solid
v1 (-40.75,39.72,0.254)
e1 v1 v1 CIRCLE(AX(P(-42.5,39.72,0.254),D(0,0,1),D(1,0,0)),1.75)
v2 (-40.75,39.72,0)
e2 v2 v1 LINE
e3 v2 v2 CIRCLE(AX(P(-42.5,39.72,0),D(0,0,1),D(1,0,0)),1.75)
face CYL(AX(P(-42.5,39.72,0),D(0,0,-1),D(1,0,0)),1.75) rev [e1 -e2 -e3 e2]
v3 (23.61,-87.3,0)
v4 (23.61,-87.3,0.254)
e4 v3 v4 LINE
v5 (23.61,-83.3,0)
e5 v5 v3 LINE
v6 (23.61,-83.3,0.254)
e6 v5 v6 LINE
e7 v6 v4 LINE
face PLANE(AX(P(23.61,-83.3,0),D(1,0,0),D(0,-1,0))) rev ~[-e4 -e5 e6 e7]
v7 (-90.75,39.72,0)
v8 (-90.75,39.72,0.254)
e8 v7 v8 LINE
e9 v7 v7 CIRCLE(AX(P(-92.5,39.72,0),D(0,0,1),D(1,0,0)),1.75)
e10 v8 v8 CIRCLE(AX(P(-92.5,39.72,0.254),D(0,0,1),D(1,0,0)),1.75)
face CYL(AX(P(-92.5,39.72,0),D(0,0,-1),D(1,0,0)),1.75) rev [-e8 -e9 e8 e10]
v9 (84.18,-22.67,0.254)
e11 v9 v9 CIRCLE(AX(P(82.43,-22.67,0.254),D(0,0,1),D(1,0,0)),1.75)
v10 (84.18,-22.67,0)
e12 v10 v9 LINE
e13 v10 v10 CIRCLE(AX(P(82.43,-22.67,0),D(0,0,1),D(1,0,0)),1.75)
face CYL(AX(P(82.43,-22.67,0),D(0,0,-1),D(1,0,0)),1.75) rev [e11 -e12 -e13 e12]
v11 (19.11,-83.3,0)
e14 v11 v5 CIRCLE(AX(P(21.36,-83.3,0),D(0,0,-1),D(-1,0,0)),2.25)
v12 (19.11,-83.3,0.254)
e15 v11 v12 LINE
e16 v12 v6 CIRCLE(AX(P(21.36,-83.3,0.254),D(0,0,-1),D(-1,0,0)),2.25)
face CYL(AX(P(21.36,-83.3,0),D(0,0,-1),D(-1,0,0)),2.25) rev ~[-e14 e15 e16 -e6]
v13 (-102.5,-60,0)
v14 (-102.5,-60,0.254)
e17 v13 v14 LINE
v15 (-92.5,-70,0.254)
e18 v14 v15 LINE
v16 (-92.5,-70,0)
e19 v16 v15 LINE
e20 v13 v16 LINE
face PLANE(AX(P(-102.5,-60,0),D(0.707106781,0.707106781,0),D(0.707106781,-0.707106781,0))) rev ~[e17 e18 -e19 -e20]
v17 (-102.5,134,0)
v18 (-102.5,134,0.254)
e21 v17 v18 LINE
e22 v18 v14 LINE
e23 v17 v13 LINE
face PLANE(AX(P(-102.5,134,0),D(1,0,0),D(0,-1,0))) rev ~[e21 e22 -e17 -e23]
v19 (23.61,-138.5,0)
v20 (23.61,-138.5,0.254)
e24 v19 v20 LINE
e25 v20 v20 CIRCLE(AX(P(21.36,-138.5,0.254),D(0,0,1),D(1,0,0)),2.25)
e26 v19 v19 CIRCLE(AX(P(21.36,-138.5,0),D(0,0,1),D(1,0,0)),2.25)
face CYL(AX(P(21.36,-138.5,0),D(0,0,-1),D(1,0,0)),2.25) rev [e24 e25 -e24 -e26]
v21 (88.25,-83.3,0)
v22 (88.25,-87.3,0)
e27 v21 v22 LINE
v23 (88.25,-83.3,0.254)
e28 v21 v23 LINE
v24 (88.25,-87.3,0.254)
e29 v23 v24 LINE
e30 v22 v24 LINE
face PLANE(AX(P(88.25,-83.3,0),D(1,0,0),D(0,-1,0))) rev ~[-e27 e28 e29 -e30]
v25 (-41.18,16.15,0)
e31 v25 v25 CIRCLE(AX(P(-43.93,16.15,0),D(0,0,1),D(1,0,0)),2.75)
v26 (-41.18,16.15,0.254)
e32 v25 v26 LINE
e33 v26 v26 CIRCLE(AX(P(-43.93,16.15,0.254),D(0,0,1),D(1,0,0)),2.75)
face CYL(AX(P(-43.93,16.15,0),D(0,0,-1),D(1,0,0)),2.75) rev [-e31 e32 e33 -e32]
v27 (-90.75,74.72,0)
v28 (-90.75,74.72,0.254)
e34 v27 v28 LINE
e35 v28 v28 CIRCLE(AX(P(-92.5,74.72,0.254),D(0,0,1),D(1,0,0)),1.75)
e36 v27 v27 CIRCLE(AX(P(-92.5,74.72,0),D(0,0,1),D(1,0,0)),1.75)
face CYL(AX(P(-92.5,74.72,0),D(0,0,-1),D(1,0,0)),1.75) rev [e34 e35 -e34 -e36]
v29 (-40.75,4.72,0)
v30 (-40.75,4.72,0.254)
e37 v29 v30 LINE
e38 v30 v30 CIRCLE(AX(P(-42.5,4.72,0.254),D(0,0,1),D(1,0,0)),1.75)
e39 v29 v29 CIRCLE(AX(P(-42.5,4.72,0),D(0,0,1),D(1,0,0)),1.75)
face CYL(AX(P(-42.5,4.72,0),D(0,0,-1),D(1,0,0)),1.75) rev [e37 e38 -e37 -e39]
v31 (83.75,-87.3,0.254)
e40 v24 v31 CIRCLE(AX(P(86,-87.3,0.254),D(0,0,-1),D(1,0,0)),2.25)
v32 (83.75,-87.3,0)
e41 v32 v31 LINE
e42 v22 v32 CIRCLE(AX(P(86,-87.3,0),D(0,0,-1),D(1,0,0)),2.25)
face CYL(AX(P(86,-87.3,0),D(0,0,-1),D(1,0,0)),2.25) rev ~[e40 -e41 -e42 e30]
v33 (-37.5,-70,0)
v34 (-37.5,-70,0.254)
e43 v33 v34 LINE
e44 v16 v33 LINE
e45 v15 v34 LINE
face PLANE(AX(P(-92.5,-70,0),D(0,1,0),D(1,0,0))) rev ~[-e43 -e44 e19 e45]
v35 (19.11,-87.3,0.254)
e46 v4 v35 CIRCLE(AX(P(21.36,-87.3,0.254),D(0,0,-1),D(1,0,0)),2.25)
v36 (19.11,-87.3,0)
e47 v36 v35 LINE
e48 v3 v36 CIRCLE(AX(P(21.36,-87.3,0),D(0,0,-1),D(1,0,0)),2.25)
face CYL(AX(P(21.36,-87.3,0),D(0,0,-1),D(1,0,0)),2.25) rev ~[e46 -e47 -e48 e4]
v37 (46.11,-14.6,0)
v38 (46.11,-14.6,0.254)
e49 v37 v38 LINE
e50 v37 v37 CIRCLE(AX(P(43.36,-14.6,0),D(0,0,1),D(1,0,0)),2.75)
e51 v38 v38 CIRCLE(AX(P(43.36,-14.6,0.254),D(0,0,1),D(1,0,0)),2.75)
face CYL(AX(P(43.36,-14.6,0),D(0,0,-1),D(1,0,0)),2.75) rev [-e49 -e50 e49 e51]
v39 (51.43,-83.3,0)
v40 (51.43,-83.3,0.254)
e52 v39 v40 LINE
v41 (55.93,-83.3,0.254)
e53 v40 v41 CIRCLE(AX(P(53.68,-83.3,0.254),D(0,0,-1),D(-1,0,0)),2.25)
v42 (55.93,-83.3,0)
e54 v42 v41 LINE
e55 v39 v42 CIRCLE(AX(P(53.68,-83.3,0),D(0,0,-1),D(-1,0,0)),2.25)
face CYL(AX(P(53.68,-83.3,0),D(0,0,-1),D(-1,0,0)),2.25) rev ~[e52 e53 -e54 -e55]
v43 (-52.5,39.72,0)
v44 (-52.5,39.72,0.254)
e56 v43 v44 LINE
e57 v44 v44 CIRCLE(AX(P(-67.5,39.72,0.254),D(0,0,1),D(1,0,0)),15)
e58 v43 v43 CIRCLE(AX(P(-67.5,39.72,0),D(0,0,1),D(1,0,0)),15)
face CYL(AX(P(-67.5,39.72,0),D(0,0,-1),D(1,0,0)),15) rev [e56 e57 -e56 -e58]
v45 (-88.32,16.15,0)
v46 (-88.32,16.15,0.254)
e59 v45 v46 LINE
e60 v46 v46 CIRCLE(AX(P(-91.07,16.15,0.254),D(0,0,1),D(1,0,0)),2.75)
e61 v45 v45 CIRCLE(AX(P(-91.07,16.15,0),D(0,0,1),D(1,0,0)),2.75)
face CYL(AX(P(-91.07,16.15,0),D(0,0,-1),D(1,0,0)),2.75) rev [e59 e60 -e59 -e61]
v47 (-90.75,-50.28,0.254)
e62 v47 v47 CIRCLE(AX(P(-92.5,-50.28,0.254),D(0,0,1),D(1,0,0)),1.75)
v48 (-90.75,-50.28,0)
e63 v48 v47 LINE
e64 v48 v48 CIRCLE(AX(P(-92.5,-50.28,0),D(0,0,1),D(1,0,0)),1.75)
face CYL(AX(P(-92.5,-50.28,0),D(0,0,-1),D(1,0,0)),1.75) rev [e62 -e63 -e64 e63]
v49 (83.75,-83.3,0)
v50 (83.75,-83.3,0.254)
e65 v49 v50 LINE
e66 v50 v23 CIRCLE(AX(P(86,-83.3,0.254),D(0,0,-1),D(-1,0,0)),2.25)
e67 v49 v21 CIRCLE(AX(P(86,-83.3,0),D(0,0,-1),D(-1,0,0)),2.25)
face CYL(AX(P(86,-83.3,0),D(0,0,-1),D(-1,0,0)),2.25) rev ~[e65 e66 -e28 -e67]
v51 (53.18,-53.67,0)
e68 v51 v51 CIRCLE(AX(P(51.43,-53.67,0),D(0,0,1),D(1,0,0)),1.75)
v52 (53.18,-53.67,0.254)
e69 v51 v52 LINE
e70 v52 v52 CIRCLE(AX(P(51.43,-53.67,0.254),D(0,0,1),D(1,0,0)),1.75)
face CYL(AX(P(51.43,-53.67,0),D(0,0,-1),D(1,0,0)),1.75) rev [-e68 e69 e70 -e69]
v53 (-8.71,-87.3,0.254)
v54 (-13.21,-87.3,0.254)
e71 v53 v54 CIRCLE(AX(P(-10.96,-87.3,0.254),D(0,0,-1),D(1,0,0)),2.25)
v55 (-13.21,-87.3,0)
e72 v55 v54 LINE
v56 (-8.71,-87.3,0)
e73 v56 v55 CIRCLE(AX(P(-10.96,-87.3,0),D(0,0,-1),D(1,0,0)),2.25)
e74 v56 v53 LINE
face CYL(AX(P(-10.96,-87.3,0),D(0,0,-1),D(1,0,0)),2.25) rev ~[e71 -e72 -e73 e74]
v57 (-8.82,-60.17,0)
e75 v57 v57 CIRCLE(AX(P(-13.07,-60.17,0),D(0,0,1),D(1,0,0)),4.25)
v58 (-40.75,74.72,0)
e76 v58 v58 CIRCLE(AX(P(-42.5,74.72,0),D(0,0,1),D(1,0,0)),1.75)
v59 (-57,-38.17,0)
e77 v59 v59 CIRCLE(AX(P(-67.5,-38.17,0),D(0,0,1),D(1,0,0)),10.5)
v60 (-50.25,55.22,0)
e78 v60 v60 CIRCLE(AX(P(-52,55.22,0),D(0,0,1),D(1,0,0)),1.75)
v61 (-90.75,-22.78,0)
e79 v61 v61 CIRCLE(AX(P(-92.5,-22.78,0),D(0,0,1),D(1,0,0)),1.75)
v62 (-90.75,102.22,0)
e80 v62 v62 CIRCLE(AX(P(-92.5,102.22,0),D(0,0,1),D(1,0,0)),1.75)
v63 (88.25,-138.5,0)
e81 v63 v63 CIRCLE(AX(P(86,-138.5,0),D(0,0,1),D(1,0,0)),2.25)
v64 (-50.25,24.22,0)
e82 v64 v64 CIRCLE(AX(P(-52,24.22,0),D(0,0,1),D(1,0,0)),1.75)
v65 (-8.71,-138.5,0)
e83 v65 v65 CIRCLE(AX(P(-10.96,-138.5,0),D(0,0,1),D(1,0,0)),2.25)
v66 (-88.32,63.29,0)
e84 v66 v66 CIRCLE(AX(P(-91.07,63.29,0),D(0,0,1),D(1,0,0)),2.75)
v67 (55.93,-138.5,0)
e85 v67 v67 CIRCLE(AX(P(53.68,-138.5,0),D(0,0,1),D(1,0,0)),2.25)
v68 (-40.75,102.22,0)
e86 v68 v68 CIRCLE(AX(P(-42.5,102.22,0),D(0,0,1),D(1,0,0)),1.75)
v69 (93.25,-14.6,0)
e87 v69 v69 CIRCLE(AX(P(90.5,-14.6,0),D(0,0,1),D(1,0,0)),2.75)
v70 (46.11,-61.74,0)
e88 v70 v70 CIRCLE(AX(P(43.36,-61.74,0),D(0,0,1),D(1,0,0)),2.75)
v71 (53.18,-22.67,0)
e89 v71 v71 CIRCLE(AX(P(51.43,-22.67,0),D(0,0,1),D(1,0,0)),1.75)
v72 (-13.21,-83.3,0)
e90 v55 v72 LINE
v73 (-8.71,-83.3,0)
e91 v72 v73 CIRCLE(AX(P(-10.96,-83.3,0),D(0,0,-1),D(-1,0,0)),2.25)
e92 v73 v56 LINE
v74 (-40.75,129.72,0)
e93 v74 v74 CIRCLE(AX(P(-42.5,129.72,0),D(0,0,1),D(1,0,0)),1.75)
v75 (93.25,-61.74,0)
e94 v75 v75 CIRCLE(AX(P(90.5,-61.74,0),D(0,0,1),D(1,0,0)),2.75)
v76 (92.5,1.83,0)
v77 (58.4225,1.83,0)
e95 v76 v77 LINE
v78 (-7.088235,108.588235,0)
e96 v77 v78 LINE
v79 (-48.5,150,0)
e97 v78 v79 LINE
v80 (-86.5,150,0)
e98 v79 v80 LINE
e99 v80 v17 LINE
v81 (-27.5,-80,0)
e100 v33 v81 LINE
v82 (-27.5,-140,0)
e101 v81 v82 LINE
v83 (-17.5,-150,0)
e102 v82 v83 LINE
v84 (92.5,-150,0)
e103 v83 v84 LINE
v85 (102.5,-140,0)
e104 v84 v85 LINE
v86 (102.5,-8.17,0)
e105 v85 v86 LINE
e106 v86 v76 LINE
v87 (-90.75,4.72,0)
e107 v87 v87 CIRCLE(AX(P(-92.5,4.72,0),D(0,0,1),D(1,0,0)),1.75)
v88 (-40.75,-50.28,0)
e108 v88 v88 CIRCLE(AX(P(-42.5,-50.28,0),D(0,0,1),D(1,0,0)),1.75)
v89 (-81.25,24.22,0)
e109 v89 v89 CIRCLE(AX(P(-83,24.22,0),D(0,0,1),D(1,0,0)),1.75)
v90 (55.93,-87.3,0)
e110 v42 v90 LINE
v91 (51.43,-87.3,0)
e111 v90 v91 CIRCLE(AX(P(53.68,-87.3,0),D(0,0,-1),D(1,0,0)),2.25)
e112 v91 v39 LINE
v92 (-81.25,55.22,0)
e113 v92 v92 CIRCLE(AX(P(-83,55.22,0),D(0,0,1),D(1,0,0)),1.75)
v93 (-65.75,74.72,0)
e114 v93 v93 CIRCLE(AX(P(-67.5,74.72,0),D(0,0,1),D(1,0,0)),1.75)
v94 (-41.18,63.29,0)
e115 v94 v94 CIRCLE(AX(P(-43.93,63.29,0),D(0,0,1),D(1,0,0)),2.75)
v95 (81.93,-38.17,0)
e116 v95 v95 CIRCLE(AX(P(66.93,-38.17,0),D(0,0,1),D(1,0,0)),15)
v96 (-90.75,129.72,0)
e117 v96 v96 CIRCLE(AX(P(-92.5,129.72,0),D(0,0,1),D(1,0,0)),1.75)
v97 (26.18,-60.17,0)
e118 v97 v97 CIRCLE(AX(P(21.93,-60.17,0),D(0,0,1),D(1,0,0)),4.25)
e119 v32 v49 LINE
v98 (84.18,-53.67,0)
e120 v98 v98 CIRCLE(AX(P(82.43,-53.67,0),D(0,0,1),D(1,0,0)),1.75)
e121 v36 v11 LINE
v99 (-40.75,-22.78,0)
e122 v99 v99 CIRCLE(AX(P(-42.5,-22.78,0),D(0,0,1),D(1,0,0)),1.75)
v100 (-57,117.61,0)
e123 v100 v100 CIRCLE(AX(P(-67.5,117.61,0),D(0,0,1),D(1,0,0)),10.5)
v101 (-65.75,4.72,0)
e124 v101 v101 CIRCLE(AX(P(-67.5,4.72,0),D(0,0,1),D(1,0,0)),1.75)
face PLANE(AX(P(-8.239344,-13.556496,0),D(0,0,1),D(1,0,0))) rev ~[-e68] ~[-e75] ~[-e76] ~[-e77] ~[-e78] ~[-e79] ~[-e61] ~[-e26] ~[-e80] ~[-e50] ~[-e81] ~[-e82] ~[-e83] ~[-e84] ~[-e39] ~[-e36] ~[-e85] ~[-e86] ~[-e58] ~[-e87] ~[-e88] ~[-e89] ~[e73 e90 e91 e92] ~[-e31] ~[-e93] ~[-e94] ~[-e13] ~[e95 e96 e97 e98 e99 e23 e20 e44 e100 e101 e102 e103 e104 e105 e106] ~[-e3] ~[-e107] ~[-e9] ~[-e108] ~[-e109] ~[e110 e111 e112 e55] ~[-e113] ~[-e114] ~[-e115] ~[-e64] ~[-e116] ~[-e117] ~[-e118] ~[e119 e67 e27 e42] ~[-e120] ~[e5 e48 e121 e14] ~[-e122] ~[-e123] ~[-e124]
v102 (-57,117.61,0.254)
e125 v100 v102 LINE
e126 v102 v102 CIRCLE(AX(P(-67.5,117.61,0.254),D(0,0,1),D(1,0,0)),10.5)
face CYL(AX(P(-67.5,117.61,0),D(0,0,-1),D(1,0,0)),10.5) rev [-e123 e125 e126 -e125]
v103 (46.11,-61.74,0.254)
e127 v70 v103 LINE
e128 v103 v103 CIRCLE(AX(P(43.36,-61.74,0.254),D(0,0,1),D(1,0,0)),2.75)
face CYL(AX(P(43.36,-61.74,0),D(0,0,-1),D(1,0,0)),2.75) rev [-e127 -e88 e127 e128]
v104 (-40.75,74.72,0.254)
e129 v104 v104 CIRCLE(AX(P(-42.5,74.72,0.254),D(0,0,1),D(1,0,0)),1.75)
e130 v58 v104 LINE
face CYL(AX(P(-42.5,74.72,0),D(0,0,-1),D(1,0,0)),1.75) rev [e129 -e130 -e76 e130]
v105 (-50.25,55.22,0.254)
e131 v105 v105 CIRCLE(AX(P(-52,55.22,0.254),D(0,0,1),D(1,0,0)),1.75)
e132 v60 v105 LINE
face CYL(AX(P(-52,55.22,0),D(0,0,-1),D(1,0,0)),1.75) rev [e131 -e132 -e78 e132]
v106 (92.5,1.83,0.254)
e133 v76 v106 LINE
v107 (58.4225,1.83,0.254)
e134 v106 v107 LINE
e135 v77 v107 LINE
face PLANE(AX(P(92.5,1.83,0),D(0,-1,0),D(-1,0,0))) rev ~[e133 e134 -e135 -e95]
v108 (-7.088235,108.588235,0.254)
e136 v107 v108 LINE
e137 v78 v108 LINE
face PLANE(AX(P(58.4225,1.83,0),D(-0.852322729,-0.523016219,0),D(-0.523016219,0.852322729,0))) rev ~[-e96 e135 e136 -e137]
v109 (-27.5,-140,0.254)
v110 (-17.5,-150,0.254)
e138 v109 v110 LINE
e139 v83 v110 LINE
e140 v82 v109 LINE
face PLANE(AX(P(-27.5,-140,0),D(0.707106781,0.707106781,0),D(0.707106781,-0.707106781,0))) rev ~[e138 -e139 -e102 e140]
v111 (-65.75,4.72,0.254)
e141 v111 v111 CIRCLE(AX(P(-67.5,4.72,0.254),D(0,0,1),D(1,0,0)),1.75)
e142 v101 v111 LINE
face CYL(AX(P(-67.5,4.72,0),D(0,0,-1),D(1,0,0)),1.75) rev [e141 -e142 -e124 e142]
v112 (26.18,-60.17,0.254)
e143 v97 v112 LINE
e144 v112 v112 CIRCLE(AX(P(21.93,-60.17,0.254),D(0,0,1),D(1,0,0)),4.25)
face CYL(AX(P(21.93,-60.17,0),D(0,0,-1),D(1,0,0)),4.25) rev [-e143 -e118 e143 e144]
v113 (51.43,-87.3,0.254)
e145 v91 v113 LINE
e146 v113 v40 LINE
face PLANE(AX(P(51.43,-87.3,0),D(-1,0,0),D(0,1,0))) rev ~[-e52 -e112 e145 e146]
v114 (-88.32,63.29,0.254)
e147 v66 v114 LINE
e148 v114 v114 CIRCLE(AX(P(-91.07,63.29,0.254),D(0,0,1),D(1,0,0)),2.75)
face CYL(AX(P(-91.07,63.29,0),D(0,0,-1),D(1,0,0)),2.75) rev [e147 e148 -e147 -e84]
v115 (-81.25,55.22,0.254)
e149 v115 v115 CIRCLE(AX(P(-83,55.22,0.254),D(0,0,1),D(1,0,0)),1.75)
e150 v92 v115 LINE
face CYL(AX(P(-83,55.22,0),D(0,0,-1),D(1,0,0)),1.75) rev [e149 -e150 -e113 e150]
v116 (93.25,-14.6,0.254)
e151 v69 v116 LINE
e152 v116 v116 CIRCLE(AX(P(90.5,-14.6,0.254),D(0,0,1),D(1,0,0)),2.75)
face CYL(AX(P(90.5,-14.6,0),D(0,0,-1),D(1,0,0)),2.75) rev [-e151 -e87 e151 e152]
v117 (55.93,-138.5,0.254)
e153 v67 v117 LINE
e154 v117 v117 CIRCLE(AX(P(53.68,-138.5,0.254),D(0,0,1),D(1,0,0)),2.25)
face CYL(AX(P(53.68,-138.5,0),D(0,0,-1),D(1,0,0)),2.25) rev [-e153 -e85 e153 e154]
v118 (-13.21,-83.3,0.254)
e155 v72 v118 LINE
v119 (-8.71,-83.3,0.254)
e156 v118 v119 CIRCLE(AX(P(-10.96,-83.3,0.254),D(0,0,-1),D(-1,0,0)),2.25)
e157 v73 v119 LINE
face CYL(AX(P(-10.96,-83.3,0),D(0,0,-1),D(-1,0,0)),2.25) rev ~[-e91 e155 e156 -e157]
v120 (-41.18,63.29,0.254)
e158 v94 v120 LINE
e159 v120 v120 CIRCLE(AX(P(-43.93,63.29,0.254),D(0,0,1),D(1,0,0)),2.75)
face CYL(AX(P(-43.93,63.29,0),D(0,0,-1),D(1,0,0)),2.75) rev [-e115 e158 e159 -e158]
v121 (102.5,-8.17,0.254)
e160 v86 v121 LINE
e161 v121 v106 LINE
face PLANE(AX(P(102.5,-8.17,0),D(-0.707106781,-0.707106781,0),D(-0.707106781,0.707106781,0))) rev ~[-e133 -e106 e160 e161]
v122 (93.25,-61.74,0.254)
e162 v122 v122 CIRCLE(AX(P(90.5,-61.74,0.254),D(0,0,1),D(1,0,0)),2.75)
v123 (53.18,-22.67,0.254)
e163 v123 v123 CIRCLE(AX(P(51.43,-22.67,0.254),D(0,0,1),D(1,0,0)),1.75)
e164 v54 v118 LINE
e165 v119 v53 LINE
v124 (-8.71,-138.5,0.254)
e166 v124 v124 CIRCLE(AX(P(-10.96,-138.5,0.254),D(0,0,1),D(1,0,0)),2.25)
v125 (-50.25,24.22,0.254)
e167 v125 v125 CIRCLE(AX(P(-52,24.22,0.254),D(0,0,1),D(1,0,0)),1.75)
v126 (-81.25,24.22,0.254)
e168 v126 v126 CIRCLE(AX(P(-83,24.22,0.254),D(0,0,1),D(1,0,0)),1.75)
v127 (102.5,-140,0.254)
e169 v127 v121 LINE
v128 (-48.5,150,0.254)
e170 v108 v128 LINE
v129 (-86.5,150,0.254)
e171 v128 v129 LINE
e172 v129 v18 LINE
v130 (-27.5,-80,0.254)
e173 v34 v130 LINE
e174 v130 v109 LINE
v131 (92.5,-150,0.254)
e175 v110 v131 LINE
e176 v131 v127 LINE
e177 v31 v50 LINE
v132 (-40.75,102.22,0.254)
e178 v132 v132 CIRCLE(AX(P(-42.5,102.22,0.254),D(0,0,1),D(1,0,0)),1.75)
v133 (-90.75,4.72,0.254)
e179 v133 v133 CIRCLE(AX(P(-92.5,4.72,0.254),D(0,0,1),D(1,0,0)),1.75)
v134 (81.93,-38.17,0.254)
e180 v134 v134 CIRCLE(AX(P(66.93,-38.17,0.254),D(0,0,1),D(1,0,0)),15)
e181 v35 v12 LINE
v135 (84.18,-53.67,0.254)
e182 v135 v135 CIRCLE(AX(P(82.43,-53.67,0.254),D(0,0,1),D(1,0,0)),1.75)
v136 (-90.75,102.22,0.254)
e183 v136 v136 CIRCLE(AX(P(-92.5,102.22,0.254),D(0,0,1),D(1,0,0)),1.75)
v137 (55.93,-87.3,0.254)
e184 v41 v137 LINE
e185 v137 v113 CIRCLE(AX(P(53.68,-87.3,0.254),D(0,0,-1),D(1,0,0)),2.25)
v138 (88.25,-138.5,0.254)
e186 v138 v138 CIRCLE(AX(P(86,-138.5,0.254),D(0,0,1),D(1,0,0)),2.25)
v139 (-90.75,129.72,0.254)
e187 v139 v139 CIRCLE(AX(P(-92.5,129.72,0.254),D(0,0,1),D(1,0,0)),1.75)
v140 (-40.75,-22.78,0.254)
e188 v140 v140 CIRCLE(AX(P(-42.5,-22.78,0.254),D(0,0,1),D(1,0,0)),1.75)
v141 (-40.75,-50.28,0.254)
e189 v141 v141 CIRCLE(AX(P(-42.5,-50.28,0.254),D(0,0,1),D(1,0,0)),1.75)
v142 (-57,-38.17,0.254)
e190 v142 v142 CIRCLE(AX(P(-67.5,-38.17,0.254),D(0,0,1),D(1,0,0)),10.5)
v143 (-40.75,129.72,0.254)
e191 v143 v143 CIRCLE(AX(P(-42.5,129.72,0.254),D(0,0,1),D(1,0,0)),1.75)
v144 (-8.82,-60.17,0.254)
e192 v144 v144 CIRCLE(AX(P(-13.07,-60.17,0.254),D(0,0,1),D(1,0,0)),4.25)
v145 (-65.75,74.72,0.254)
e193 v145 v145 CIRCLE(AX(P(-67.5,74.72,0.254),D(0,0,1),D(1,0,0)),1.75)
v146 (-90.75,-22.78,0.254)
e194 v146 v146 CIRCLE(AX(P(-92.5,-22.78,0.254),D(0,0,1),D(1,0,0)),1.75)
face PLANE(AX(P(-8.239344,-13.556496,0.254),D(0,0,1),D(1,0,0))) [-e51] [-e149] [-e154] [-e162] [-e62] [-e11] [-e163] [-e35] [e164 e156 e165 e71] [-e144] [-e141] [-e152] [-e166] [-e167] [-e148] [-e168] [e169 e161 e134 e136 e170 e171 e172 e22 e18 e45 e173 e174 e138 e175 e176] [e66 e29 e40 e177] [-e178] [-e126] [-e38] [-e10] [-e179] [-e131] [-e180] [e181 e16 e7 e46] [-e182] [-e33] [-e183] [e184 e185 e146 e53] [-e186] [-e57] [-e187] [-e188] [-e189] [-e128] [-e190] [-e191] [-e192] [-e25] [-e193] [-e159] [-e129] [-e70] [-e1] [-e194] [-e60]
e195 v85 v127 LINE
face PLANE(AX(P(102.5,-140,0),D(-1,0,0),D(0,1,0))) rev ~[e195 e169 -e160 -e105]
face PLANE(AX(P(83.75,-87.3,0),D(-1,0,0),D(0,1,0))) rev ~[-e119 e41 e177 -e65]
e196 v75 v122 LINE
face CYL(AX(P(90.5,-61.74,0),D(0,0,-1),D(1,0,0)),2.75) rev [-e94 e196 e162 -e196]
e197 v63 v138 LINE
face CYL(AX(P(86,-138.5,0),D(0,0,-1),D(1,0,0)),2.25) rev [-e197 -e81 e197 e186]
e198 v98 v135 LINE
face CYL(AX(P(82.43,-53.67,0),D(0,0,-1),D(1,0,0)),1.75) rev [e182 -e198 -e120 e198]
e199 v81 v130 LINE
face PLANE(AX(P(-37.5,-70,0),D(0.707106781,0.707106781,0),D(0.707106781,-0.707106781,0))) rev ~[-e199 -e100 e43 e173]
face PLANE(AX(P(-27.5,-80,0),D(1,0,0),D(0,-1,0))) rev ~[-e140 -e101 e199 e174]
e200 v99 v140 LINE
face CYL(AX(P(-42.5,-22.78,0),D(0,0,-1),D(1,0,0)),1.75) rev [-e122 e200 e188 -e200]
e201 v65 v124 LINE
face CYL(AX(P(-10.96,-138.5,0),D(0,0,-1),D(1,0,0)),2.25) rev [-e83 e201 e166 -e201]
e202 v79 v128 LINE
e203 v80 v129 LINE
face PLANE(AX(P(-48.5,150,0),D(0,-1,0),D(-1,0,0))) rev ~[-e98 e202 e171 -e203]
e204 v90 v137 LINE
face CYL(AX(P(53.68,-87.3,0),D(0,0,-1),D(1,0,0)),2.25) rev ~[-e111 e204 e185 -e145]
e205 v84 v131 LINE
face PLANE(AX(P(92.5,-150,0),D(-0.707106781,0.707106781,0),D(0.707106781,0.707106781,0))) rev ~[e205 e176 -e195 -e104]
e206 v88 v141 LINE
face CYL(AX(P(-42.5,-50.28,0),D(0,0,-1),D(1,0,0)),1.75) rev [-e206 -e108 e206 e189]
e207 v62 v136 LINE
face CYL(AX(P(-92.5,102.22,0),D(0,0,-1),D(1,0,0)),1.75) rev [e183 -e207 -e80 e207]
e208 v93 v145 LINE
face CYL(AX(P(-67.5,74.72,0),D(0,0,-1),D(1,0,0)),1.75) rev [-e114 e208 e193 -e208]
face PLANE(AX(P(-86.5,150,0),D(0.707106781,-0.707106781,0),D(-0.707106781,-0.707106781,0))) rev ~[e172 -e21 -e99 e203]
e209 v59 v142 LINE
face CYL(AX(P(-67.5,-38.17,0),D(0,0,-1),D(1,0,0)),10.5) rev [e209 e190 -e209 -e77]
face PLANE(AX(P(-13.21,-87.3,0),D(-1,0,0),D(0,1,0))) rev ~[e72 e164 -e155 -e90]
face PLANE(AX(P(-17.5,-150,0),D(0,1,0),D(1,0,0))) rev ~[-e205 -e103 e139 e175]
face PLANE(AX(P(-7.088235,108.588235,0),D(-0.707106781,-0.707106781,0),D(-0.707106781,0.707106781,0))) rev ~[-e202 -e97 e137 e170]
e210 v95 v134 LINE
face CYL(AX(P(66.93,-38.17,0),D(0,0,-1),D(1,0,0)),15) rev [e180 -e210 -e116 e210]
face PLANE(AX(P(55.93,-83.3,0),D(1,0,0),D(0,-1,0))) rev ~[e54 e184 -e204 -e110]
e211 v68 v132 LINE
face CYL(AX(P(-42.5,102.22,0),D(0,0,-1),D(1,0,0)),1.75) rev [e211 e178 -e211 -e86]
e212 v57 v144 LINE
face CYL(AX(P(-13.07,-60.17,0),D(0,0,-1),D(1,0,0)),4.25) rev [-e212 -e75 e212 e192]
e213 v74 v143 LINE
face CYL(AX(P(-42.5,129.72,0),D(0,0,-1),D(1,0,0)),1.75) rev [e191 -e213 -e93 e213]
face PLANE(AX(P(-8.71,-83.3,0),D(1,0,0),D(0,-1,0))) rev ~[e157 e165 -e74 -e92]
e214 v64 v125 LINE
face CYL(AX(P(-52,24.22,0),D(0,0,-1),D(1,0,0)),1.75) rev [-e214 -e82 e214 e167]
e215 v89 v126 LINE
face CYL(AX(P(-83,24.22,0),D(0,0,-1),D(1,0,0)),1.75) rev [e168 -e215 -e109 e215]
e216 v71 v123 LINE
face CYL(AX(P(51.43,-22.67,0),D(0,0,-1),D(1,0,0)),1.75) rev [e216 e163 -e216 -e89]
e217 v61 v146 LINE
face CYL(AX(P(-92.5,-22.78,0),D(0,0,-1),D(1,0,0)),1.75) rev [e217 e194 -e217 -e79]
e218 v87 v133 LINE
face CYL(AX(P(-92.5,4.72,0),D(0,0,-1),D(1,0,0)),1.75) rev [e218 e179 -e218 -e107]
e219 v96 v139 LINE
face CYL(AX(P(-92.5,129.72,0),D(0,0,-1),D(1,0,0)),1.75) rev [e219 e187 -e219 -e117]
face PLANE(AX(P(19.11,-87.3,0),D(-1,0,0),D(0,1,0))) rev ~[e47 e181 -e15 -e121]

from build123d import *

# Parameters (mm, degrees)
F0_R     = 2.25
F0_R_2   = 1.75
F0_R_3   = 10.5
F0_R_4   = 4.25
F0_R_5   = 2.75
F0_R_6   = 15
F1_DEPTH = 0.254


with BuildPart() as f1:
    # F0 (on Top) → F1 (new body)
    with BuildSketch(Plane.XY):
        Polygon((-17.5, -150), (92.5, -150), (102.5, -140), (102.5, -8.17), (92.5, 1.83), (58.4225, 1.83), (-7.088235, 108.588235), (-48.5, 150), (-86.5, 150), (-102.5, 134), (-102.5, -60), (-92.5, -70), (-37.5, -70), (-27.5, -80), (-27.5, -140), align=None)
        with Locations((-10.96, -138.5)):
            Circle(F0_R, mode=Mode.SUBTRACT)
        with BuildLine():
            Line((-13.21, -87.3), (-13.21, -83.3))
            ThreePointArc((-13.21, -83.3), (-10.96, -81.05), (-8.71, -83.3))
            Line((-8.71, -83.3), (-8.71, -87.3))
            ThreePointArc((-8.71, -87.3), (-10.96, -89.55), (-13.21, -87.3))
        make_face(mode=Mode.SUBTRACT)
        with Locations((-92.5, -50.28)):
            Circle(F0_R_2, mode=Mode.SUBTRACT)
        with Locations((-67.5, -38.17)):
            Circle(F0_R_3, mode=Mode.SUBTRACT)
        with Locations((-92.5, -22.78)):
            Circle(F0_R_2, mode=Mode.SUBTRACT)
        with Locations((-42.5, -50.28)):
            Circle(F0_R_2, mode=Mode.SUBTRACT)
        with Locations((-13.07, -60.17)):
            Circle(F0_R_4, mode=Mode.SUBTRACT)
        with Locations((-42.5, -22.78)):
            Circle(F0_R_2, mode=Mode.SUBTRACT)
        with Locations((21.36, -138.5)):
            Circle(F0_R, mode=Mode.SUBTRACT)
        with BuildLine():
            Line((19.11, -87.3), (19.11, -83.3))
            ThreePointArc((19.11, -83.3), (21.36, -81.05), (23.61, -83.3))
            Line((23.61, -83.3), (23.61, -87.3))
            ThreePointArc((23.61, -87.3), (21.36, -89.55), (19.11, -87.3))
        make_face(mode=Mode.SUBTRACT)
        with Locations((53.68, -138.5)):
            Circle(F0_R, mode=Mode.SUBTRACT)
        with Locations((86, -138.5)):
            Circle(F0_R, mode=Mode.SUBTRACT)
        with BuildLine():
            Line((51.43, -87.3), (51.43, -83.3))
            ThreePointArc((51.43, -83.3), (53.68, -81.05), (55.93, -83.3))
            Line((55.93, -83.3), (55.93, -87.3))
            ThreePointArc((55.93, -87.3), (53.68, -89.55), (51.43, -87.3))
        make_face(mode=Mode.SUBTRACT)
        with BuildLine():
            Line((83.75, -87.3), (83.75, -83.3))
            ThreePointArc((83.75, -83.3), (86, -81.05), (88.25, -83.3))
            Line((88.25, -83.3), (88.25, -87.3))
            ThreePointArc((88.25, -87.3), (86, -89.55), (83.75, -87.3))
        make_face(mode=Mode.SUBTRACT)
        with Locations((21.93, -60.17)):
            Circle(F0_R_4, mode=Mode.SUBTRACT)
        with Locations((43.36, -61.74)):
            Circle(F0_R_5, mode=Mode.SUBTRACT)
        with Locations((43.36, -14.6)):
            Circle(F0_R_5, mode=Mode.SUBTRACT)
        with Locations((51.43, -53.67)):
            Circle(F0_R_2, mode=Mode.SUBTRACT)
        with Locations((66.93, -38.17)):
            Circle(F0_R_6, mode=Mode.SUBTRACT)
        with Locations((90.5, -61.74)):
            Circle(F0_R_5, mode=Mode.SUBTRACT)
        with Locations((82.43, -53.67)):
            Circle(F0_R_2, mode=Mode.SUBTRACT)
        with Locations((51.43, -22.67)):
            Circle(F0_R_2, mode=Mode.SUBTRACT)
        with Locations((82.43, -22.67)):
            Circle(F0_R_2, mode=Mode.SUBTRACT)
        with Locations((90.5, -14.6)):
            Circle(F0_R_5, mode=Mode.SUBTRACT)
        with Locations((-92.5, 4.72)):
            Circle(F0_R_2, mode=Mode.SUBTRACT)
        with Locations((-91.07, 16.15)):
            Circle(F0_R_5, mode=Mode.SUBTRACT)
        with Locations((-83, 24.22)):
            Circle(F0_R_2, mode=Mode.SUBTRACT)
        with Locations((-67.5, 4.72)):
            Circle(F0_R_2, mode=Mode.SUBTRACT)
        with Locations((-52, 24.22)):
            Circle(F0_R_2, mode=Mode.SUBTRACT)
        with Locations((-92.5, 39.72)):
            Circle(F0_R_2, mode=Mode.SUBTRACT)
        with Locations((-83, 55.22)):
            Circle(F0_R_2, mode=Mode.SUBTRACT)
        with Locations((-91.07, 63.29)):
            Circle(F0_R_5, mode=Mode.SUBTRACT)
        with Locations((-92.5, 74.72)):
            Circle(F0_R_2, mode=Mode.SUBTRACT)
        with Locations((-67.5, 39.72)):
            Circle(F0_R_6, mode=Mode.SUBTRACT)
        with Locations((-52, 55.22)):
            Circle(F0_R_2, mode=Mode.SUBTRACT)
        with Locations((-67.5, 74.72)):
            Circle(F0_R_2, mode=Mode.SUBTRACT)
        with Locations((-42.5, 4.72)):
            Circle(F0_R_2, mode=Mode.SUBTRACT)
        with Locations((-43.93, 16.15)):
            Circle(F0_R_5, mode=Mode.SUBTRACT)
        with Locations((-42.5, 39.72)):
            Circle(F0_R_2, mode=Mode.SUBTRACT)
        with Locations((-43.93, 63.29)):
            Circle(F0_R_5, mode=Mode.SUBTRACT)
        with Locations((-42.5, 74.72)):
            Circle(F0_R_2, mode=Mode.SUBTRACT)
        with Locations((-92.5, 102.22)):
            Circle(F0_R_2, mode=Mode.SUBTRACT)
        with Locations((-92.5, 129.72)):
            Circle(F0_R_2, mode=Mode.SUBTRACT)
        with Locations((-67.5, 117.61)):
            Circle(F0_R_3, mode=Mode.SUBTRACT)
        with Locations((-42.5, 102.22)):
            Circle(F0_R_2, mode=Mode.SUBTRACT)
        with Locations((-42.5, 129.72)):
            Circle(F0_R_2, mode=Mode.SUBTRACT)
    extrude(amount=F1_DEPTH)


solid = f1.part
